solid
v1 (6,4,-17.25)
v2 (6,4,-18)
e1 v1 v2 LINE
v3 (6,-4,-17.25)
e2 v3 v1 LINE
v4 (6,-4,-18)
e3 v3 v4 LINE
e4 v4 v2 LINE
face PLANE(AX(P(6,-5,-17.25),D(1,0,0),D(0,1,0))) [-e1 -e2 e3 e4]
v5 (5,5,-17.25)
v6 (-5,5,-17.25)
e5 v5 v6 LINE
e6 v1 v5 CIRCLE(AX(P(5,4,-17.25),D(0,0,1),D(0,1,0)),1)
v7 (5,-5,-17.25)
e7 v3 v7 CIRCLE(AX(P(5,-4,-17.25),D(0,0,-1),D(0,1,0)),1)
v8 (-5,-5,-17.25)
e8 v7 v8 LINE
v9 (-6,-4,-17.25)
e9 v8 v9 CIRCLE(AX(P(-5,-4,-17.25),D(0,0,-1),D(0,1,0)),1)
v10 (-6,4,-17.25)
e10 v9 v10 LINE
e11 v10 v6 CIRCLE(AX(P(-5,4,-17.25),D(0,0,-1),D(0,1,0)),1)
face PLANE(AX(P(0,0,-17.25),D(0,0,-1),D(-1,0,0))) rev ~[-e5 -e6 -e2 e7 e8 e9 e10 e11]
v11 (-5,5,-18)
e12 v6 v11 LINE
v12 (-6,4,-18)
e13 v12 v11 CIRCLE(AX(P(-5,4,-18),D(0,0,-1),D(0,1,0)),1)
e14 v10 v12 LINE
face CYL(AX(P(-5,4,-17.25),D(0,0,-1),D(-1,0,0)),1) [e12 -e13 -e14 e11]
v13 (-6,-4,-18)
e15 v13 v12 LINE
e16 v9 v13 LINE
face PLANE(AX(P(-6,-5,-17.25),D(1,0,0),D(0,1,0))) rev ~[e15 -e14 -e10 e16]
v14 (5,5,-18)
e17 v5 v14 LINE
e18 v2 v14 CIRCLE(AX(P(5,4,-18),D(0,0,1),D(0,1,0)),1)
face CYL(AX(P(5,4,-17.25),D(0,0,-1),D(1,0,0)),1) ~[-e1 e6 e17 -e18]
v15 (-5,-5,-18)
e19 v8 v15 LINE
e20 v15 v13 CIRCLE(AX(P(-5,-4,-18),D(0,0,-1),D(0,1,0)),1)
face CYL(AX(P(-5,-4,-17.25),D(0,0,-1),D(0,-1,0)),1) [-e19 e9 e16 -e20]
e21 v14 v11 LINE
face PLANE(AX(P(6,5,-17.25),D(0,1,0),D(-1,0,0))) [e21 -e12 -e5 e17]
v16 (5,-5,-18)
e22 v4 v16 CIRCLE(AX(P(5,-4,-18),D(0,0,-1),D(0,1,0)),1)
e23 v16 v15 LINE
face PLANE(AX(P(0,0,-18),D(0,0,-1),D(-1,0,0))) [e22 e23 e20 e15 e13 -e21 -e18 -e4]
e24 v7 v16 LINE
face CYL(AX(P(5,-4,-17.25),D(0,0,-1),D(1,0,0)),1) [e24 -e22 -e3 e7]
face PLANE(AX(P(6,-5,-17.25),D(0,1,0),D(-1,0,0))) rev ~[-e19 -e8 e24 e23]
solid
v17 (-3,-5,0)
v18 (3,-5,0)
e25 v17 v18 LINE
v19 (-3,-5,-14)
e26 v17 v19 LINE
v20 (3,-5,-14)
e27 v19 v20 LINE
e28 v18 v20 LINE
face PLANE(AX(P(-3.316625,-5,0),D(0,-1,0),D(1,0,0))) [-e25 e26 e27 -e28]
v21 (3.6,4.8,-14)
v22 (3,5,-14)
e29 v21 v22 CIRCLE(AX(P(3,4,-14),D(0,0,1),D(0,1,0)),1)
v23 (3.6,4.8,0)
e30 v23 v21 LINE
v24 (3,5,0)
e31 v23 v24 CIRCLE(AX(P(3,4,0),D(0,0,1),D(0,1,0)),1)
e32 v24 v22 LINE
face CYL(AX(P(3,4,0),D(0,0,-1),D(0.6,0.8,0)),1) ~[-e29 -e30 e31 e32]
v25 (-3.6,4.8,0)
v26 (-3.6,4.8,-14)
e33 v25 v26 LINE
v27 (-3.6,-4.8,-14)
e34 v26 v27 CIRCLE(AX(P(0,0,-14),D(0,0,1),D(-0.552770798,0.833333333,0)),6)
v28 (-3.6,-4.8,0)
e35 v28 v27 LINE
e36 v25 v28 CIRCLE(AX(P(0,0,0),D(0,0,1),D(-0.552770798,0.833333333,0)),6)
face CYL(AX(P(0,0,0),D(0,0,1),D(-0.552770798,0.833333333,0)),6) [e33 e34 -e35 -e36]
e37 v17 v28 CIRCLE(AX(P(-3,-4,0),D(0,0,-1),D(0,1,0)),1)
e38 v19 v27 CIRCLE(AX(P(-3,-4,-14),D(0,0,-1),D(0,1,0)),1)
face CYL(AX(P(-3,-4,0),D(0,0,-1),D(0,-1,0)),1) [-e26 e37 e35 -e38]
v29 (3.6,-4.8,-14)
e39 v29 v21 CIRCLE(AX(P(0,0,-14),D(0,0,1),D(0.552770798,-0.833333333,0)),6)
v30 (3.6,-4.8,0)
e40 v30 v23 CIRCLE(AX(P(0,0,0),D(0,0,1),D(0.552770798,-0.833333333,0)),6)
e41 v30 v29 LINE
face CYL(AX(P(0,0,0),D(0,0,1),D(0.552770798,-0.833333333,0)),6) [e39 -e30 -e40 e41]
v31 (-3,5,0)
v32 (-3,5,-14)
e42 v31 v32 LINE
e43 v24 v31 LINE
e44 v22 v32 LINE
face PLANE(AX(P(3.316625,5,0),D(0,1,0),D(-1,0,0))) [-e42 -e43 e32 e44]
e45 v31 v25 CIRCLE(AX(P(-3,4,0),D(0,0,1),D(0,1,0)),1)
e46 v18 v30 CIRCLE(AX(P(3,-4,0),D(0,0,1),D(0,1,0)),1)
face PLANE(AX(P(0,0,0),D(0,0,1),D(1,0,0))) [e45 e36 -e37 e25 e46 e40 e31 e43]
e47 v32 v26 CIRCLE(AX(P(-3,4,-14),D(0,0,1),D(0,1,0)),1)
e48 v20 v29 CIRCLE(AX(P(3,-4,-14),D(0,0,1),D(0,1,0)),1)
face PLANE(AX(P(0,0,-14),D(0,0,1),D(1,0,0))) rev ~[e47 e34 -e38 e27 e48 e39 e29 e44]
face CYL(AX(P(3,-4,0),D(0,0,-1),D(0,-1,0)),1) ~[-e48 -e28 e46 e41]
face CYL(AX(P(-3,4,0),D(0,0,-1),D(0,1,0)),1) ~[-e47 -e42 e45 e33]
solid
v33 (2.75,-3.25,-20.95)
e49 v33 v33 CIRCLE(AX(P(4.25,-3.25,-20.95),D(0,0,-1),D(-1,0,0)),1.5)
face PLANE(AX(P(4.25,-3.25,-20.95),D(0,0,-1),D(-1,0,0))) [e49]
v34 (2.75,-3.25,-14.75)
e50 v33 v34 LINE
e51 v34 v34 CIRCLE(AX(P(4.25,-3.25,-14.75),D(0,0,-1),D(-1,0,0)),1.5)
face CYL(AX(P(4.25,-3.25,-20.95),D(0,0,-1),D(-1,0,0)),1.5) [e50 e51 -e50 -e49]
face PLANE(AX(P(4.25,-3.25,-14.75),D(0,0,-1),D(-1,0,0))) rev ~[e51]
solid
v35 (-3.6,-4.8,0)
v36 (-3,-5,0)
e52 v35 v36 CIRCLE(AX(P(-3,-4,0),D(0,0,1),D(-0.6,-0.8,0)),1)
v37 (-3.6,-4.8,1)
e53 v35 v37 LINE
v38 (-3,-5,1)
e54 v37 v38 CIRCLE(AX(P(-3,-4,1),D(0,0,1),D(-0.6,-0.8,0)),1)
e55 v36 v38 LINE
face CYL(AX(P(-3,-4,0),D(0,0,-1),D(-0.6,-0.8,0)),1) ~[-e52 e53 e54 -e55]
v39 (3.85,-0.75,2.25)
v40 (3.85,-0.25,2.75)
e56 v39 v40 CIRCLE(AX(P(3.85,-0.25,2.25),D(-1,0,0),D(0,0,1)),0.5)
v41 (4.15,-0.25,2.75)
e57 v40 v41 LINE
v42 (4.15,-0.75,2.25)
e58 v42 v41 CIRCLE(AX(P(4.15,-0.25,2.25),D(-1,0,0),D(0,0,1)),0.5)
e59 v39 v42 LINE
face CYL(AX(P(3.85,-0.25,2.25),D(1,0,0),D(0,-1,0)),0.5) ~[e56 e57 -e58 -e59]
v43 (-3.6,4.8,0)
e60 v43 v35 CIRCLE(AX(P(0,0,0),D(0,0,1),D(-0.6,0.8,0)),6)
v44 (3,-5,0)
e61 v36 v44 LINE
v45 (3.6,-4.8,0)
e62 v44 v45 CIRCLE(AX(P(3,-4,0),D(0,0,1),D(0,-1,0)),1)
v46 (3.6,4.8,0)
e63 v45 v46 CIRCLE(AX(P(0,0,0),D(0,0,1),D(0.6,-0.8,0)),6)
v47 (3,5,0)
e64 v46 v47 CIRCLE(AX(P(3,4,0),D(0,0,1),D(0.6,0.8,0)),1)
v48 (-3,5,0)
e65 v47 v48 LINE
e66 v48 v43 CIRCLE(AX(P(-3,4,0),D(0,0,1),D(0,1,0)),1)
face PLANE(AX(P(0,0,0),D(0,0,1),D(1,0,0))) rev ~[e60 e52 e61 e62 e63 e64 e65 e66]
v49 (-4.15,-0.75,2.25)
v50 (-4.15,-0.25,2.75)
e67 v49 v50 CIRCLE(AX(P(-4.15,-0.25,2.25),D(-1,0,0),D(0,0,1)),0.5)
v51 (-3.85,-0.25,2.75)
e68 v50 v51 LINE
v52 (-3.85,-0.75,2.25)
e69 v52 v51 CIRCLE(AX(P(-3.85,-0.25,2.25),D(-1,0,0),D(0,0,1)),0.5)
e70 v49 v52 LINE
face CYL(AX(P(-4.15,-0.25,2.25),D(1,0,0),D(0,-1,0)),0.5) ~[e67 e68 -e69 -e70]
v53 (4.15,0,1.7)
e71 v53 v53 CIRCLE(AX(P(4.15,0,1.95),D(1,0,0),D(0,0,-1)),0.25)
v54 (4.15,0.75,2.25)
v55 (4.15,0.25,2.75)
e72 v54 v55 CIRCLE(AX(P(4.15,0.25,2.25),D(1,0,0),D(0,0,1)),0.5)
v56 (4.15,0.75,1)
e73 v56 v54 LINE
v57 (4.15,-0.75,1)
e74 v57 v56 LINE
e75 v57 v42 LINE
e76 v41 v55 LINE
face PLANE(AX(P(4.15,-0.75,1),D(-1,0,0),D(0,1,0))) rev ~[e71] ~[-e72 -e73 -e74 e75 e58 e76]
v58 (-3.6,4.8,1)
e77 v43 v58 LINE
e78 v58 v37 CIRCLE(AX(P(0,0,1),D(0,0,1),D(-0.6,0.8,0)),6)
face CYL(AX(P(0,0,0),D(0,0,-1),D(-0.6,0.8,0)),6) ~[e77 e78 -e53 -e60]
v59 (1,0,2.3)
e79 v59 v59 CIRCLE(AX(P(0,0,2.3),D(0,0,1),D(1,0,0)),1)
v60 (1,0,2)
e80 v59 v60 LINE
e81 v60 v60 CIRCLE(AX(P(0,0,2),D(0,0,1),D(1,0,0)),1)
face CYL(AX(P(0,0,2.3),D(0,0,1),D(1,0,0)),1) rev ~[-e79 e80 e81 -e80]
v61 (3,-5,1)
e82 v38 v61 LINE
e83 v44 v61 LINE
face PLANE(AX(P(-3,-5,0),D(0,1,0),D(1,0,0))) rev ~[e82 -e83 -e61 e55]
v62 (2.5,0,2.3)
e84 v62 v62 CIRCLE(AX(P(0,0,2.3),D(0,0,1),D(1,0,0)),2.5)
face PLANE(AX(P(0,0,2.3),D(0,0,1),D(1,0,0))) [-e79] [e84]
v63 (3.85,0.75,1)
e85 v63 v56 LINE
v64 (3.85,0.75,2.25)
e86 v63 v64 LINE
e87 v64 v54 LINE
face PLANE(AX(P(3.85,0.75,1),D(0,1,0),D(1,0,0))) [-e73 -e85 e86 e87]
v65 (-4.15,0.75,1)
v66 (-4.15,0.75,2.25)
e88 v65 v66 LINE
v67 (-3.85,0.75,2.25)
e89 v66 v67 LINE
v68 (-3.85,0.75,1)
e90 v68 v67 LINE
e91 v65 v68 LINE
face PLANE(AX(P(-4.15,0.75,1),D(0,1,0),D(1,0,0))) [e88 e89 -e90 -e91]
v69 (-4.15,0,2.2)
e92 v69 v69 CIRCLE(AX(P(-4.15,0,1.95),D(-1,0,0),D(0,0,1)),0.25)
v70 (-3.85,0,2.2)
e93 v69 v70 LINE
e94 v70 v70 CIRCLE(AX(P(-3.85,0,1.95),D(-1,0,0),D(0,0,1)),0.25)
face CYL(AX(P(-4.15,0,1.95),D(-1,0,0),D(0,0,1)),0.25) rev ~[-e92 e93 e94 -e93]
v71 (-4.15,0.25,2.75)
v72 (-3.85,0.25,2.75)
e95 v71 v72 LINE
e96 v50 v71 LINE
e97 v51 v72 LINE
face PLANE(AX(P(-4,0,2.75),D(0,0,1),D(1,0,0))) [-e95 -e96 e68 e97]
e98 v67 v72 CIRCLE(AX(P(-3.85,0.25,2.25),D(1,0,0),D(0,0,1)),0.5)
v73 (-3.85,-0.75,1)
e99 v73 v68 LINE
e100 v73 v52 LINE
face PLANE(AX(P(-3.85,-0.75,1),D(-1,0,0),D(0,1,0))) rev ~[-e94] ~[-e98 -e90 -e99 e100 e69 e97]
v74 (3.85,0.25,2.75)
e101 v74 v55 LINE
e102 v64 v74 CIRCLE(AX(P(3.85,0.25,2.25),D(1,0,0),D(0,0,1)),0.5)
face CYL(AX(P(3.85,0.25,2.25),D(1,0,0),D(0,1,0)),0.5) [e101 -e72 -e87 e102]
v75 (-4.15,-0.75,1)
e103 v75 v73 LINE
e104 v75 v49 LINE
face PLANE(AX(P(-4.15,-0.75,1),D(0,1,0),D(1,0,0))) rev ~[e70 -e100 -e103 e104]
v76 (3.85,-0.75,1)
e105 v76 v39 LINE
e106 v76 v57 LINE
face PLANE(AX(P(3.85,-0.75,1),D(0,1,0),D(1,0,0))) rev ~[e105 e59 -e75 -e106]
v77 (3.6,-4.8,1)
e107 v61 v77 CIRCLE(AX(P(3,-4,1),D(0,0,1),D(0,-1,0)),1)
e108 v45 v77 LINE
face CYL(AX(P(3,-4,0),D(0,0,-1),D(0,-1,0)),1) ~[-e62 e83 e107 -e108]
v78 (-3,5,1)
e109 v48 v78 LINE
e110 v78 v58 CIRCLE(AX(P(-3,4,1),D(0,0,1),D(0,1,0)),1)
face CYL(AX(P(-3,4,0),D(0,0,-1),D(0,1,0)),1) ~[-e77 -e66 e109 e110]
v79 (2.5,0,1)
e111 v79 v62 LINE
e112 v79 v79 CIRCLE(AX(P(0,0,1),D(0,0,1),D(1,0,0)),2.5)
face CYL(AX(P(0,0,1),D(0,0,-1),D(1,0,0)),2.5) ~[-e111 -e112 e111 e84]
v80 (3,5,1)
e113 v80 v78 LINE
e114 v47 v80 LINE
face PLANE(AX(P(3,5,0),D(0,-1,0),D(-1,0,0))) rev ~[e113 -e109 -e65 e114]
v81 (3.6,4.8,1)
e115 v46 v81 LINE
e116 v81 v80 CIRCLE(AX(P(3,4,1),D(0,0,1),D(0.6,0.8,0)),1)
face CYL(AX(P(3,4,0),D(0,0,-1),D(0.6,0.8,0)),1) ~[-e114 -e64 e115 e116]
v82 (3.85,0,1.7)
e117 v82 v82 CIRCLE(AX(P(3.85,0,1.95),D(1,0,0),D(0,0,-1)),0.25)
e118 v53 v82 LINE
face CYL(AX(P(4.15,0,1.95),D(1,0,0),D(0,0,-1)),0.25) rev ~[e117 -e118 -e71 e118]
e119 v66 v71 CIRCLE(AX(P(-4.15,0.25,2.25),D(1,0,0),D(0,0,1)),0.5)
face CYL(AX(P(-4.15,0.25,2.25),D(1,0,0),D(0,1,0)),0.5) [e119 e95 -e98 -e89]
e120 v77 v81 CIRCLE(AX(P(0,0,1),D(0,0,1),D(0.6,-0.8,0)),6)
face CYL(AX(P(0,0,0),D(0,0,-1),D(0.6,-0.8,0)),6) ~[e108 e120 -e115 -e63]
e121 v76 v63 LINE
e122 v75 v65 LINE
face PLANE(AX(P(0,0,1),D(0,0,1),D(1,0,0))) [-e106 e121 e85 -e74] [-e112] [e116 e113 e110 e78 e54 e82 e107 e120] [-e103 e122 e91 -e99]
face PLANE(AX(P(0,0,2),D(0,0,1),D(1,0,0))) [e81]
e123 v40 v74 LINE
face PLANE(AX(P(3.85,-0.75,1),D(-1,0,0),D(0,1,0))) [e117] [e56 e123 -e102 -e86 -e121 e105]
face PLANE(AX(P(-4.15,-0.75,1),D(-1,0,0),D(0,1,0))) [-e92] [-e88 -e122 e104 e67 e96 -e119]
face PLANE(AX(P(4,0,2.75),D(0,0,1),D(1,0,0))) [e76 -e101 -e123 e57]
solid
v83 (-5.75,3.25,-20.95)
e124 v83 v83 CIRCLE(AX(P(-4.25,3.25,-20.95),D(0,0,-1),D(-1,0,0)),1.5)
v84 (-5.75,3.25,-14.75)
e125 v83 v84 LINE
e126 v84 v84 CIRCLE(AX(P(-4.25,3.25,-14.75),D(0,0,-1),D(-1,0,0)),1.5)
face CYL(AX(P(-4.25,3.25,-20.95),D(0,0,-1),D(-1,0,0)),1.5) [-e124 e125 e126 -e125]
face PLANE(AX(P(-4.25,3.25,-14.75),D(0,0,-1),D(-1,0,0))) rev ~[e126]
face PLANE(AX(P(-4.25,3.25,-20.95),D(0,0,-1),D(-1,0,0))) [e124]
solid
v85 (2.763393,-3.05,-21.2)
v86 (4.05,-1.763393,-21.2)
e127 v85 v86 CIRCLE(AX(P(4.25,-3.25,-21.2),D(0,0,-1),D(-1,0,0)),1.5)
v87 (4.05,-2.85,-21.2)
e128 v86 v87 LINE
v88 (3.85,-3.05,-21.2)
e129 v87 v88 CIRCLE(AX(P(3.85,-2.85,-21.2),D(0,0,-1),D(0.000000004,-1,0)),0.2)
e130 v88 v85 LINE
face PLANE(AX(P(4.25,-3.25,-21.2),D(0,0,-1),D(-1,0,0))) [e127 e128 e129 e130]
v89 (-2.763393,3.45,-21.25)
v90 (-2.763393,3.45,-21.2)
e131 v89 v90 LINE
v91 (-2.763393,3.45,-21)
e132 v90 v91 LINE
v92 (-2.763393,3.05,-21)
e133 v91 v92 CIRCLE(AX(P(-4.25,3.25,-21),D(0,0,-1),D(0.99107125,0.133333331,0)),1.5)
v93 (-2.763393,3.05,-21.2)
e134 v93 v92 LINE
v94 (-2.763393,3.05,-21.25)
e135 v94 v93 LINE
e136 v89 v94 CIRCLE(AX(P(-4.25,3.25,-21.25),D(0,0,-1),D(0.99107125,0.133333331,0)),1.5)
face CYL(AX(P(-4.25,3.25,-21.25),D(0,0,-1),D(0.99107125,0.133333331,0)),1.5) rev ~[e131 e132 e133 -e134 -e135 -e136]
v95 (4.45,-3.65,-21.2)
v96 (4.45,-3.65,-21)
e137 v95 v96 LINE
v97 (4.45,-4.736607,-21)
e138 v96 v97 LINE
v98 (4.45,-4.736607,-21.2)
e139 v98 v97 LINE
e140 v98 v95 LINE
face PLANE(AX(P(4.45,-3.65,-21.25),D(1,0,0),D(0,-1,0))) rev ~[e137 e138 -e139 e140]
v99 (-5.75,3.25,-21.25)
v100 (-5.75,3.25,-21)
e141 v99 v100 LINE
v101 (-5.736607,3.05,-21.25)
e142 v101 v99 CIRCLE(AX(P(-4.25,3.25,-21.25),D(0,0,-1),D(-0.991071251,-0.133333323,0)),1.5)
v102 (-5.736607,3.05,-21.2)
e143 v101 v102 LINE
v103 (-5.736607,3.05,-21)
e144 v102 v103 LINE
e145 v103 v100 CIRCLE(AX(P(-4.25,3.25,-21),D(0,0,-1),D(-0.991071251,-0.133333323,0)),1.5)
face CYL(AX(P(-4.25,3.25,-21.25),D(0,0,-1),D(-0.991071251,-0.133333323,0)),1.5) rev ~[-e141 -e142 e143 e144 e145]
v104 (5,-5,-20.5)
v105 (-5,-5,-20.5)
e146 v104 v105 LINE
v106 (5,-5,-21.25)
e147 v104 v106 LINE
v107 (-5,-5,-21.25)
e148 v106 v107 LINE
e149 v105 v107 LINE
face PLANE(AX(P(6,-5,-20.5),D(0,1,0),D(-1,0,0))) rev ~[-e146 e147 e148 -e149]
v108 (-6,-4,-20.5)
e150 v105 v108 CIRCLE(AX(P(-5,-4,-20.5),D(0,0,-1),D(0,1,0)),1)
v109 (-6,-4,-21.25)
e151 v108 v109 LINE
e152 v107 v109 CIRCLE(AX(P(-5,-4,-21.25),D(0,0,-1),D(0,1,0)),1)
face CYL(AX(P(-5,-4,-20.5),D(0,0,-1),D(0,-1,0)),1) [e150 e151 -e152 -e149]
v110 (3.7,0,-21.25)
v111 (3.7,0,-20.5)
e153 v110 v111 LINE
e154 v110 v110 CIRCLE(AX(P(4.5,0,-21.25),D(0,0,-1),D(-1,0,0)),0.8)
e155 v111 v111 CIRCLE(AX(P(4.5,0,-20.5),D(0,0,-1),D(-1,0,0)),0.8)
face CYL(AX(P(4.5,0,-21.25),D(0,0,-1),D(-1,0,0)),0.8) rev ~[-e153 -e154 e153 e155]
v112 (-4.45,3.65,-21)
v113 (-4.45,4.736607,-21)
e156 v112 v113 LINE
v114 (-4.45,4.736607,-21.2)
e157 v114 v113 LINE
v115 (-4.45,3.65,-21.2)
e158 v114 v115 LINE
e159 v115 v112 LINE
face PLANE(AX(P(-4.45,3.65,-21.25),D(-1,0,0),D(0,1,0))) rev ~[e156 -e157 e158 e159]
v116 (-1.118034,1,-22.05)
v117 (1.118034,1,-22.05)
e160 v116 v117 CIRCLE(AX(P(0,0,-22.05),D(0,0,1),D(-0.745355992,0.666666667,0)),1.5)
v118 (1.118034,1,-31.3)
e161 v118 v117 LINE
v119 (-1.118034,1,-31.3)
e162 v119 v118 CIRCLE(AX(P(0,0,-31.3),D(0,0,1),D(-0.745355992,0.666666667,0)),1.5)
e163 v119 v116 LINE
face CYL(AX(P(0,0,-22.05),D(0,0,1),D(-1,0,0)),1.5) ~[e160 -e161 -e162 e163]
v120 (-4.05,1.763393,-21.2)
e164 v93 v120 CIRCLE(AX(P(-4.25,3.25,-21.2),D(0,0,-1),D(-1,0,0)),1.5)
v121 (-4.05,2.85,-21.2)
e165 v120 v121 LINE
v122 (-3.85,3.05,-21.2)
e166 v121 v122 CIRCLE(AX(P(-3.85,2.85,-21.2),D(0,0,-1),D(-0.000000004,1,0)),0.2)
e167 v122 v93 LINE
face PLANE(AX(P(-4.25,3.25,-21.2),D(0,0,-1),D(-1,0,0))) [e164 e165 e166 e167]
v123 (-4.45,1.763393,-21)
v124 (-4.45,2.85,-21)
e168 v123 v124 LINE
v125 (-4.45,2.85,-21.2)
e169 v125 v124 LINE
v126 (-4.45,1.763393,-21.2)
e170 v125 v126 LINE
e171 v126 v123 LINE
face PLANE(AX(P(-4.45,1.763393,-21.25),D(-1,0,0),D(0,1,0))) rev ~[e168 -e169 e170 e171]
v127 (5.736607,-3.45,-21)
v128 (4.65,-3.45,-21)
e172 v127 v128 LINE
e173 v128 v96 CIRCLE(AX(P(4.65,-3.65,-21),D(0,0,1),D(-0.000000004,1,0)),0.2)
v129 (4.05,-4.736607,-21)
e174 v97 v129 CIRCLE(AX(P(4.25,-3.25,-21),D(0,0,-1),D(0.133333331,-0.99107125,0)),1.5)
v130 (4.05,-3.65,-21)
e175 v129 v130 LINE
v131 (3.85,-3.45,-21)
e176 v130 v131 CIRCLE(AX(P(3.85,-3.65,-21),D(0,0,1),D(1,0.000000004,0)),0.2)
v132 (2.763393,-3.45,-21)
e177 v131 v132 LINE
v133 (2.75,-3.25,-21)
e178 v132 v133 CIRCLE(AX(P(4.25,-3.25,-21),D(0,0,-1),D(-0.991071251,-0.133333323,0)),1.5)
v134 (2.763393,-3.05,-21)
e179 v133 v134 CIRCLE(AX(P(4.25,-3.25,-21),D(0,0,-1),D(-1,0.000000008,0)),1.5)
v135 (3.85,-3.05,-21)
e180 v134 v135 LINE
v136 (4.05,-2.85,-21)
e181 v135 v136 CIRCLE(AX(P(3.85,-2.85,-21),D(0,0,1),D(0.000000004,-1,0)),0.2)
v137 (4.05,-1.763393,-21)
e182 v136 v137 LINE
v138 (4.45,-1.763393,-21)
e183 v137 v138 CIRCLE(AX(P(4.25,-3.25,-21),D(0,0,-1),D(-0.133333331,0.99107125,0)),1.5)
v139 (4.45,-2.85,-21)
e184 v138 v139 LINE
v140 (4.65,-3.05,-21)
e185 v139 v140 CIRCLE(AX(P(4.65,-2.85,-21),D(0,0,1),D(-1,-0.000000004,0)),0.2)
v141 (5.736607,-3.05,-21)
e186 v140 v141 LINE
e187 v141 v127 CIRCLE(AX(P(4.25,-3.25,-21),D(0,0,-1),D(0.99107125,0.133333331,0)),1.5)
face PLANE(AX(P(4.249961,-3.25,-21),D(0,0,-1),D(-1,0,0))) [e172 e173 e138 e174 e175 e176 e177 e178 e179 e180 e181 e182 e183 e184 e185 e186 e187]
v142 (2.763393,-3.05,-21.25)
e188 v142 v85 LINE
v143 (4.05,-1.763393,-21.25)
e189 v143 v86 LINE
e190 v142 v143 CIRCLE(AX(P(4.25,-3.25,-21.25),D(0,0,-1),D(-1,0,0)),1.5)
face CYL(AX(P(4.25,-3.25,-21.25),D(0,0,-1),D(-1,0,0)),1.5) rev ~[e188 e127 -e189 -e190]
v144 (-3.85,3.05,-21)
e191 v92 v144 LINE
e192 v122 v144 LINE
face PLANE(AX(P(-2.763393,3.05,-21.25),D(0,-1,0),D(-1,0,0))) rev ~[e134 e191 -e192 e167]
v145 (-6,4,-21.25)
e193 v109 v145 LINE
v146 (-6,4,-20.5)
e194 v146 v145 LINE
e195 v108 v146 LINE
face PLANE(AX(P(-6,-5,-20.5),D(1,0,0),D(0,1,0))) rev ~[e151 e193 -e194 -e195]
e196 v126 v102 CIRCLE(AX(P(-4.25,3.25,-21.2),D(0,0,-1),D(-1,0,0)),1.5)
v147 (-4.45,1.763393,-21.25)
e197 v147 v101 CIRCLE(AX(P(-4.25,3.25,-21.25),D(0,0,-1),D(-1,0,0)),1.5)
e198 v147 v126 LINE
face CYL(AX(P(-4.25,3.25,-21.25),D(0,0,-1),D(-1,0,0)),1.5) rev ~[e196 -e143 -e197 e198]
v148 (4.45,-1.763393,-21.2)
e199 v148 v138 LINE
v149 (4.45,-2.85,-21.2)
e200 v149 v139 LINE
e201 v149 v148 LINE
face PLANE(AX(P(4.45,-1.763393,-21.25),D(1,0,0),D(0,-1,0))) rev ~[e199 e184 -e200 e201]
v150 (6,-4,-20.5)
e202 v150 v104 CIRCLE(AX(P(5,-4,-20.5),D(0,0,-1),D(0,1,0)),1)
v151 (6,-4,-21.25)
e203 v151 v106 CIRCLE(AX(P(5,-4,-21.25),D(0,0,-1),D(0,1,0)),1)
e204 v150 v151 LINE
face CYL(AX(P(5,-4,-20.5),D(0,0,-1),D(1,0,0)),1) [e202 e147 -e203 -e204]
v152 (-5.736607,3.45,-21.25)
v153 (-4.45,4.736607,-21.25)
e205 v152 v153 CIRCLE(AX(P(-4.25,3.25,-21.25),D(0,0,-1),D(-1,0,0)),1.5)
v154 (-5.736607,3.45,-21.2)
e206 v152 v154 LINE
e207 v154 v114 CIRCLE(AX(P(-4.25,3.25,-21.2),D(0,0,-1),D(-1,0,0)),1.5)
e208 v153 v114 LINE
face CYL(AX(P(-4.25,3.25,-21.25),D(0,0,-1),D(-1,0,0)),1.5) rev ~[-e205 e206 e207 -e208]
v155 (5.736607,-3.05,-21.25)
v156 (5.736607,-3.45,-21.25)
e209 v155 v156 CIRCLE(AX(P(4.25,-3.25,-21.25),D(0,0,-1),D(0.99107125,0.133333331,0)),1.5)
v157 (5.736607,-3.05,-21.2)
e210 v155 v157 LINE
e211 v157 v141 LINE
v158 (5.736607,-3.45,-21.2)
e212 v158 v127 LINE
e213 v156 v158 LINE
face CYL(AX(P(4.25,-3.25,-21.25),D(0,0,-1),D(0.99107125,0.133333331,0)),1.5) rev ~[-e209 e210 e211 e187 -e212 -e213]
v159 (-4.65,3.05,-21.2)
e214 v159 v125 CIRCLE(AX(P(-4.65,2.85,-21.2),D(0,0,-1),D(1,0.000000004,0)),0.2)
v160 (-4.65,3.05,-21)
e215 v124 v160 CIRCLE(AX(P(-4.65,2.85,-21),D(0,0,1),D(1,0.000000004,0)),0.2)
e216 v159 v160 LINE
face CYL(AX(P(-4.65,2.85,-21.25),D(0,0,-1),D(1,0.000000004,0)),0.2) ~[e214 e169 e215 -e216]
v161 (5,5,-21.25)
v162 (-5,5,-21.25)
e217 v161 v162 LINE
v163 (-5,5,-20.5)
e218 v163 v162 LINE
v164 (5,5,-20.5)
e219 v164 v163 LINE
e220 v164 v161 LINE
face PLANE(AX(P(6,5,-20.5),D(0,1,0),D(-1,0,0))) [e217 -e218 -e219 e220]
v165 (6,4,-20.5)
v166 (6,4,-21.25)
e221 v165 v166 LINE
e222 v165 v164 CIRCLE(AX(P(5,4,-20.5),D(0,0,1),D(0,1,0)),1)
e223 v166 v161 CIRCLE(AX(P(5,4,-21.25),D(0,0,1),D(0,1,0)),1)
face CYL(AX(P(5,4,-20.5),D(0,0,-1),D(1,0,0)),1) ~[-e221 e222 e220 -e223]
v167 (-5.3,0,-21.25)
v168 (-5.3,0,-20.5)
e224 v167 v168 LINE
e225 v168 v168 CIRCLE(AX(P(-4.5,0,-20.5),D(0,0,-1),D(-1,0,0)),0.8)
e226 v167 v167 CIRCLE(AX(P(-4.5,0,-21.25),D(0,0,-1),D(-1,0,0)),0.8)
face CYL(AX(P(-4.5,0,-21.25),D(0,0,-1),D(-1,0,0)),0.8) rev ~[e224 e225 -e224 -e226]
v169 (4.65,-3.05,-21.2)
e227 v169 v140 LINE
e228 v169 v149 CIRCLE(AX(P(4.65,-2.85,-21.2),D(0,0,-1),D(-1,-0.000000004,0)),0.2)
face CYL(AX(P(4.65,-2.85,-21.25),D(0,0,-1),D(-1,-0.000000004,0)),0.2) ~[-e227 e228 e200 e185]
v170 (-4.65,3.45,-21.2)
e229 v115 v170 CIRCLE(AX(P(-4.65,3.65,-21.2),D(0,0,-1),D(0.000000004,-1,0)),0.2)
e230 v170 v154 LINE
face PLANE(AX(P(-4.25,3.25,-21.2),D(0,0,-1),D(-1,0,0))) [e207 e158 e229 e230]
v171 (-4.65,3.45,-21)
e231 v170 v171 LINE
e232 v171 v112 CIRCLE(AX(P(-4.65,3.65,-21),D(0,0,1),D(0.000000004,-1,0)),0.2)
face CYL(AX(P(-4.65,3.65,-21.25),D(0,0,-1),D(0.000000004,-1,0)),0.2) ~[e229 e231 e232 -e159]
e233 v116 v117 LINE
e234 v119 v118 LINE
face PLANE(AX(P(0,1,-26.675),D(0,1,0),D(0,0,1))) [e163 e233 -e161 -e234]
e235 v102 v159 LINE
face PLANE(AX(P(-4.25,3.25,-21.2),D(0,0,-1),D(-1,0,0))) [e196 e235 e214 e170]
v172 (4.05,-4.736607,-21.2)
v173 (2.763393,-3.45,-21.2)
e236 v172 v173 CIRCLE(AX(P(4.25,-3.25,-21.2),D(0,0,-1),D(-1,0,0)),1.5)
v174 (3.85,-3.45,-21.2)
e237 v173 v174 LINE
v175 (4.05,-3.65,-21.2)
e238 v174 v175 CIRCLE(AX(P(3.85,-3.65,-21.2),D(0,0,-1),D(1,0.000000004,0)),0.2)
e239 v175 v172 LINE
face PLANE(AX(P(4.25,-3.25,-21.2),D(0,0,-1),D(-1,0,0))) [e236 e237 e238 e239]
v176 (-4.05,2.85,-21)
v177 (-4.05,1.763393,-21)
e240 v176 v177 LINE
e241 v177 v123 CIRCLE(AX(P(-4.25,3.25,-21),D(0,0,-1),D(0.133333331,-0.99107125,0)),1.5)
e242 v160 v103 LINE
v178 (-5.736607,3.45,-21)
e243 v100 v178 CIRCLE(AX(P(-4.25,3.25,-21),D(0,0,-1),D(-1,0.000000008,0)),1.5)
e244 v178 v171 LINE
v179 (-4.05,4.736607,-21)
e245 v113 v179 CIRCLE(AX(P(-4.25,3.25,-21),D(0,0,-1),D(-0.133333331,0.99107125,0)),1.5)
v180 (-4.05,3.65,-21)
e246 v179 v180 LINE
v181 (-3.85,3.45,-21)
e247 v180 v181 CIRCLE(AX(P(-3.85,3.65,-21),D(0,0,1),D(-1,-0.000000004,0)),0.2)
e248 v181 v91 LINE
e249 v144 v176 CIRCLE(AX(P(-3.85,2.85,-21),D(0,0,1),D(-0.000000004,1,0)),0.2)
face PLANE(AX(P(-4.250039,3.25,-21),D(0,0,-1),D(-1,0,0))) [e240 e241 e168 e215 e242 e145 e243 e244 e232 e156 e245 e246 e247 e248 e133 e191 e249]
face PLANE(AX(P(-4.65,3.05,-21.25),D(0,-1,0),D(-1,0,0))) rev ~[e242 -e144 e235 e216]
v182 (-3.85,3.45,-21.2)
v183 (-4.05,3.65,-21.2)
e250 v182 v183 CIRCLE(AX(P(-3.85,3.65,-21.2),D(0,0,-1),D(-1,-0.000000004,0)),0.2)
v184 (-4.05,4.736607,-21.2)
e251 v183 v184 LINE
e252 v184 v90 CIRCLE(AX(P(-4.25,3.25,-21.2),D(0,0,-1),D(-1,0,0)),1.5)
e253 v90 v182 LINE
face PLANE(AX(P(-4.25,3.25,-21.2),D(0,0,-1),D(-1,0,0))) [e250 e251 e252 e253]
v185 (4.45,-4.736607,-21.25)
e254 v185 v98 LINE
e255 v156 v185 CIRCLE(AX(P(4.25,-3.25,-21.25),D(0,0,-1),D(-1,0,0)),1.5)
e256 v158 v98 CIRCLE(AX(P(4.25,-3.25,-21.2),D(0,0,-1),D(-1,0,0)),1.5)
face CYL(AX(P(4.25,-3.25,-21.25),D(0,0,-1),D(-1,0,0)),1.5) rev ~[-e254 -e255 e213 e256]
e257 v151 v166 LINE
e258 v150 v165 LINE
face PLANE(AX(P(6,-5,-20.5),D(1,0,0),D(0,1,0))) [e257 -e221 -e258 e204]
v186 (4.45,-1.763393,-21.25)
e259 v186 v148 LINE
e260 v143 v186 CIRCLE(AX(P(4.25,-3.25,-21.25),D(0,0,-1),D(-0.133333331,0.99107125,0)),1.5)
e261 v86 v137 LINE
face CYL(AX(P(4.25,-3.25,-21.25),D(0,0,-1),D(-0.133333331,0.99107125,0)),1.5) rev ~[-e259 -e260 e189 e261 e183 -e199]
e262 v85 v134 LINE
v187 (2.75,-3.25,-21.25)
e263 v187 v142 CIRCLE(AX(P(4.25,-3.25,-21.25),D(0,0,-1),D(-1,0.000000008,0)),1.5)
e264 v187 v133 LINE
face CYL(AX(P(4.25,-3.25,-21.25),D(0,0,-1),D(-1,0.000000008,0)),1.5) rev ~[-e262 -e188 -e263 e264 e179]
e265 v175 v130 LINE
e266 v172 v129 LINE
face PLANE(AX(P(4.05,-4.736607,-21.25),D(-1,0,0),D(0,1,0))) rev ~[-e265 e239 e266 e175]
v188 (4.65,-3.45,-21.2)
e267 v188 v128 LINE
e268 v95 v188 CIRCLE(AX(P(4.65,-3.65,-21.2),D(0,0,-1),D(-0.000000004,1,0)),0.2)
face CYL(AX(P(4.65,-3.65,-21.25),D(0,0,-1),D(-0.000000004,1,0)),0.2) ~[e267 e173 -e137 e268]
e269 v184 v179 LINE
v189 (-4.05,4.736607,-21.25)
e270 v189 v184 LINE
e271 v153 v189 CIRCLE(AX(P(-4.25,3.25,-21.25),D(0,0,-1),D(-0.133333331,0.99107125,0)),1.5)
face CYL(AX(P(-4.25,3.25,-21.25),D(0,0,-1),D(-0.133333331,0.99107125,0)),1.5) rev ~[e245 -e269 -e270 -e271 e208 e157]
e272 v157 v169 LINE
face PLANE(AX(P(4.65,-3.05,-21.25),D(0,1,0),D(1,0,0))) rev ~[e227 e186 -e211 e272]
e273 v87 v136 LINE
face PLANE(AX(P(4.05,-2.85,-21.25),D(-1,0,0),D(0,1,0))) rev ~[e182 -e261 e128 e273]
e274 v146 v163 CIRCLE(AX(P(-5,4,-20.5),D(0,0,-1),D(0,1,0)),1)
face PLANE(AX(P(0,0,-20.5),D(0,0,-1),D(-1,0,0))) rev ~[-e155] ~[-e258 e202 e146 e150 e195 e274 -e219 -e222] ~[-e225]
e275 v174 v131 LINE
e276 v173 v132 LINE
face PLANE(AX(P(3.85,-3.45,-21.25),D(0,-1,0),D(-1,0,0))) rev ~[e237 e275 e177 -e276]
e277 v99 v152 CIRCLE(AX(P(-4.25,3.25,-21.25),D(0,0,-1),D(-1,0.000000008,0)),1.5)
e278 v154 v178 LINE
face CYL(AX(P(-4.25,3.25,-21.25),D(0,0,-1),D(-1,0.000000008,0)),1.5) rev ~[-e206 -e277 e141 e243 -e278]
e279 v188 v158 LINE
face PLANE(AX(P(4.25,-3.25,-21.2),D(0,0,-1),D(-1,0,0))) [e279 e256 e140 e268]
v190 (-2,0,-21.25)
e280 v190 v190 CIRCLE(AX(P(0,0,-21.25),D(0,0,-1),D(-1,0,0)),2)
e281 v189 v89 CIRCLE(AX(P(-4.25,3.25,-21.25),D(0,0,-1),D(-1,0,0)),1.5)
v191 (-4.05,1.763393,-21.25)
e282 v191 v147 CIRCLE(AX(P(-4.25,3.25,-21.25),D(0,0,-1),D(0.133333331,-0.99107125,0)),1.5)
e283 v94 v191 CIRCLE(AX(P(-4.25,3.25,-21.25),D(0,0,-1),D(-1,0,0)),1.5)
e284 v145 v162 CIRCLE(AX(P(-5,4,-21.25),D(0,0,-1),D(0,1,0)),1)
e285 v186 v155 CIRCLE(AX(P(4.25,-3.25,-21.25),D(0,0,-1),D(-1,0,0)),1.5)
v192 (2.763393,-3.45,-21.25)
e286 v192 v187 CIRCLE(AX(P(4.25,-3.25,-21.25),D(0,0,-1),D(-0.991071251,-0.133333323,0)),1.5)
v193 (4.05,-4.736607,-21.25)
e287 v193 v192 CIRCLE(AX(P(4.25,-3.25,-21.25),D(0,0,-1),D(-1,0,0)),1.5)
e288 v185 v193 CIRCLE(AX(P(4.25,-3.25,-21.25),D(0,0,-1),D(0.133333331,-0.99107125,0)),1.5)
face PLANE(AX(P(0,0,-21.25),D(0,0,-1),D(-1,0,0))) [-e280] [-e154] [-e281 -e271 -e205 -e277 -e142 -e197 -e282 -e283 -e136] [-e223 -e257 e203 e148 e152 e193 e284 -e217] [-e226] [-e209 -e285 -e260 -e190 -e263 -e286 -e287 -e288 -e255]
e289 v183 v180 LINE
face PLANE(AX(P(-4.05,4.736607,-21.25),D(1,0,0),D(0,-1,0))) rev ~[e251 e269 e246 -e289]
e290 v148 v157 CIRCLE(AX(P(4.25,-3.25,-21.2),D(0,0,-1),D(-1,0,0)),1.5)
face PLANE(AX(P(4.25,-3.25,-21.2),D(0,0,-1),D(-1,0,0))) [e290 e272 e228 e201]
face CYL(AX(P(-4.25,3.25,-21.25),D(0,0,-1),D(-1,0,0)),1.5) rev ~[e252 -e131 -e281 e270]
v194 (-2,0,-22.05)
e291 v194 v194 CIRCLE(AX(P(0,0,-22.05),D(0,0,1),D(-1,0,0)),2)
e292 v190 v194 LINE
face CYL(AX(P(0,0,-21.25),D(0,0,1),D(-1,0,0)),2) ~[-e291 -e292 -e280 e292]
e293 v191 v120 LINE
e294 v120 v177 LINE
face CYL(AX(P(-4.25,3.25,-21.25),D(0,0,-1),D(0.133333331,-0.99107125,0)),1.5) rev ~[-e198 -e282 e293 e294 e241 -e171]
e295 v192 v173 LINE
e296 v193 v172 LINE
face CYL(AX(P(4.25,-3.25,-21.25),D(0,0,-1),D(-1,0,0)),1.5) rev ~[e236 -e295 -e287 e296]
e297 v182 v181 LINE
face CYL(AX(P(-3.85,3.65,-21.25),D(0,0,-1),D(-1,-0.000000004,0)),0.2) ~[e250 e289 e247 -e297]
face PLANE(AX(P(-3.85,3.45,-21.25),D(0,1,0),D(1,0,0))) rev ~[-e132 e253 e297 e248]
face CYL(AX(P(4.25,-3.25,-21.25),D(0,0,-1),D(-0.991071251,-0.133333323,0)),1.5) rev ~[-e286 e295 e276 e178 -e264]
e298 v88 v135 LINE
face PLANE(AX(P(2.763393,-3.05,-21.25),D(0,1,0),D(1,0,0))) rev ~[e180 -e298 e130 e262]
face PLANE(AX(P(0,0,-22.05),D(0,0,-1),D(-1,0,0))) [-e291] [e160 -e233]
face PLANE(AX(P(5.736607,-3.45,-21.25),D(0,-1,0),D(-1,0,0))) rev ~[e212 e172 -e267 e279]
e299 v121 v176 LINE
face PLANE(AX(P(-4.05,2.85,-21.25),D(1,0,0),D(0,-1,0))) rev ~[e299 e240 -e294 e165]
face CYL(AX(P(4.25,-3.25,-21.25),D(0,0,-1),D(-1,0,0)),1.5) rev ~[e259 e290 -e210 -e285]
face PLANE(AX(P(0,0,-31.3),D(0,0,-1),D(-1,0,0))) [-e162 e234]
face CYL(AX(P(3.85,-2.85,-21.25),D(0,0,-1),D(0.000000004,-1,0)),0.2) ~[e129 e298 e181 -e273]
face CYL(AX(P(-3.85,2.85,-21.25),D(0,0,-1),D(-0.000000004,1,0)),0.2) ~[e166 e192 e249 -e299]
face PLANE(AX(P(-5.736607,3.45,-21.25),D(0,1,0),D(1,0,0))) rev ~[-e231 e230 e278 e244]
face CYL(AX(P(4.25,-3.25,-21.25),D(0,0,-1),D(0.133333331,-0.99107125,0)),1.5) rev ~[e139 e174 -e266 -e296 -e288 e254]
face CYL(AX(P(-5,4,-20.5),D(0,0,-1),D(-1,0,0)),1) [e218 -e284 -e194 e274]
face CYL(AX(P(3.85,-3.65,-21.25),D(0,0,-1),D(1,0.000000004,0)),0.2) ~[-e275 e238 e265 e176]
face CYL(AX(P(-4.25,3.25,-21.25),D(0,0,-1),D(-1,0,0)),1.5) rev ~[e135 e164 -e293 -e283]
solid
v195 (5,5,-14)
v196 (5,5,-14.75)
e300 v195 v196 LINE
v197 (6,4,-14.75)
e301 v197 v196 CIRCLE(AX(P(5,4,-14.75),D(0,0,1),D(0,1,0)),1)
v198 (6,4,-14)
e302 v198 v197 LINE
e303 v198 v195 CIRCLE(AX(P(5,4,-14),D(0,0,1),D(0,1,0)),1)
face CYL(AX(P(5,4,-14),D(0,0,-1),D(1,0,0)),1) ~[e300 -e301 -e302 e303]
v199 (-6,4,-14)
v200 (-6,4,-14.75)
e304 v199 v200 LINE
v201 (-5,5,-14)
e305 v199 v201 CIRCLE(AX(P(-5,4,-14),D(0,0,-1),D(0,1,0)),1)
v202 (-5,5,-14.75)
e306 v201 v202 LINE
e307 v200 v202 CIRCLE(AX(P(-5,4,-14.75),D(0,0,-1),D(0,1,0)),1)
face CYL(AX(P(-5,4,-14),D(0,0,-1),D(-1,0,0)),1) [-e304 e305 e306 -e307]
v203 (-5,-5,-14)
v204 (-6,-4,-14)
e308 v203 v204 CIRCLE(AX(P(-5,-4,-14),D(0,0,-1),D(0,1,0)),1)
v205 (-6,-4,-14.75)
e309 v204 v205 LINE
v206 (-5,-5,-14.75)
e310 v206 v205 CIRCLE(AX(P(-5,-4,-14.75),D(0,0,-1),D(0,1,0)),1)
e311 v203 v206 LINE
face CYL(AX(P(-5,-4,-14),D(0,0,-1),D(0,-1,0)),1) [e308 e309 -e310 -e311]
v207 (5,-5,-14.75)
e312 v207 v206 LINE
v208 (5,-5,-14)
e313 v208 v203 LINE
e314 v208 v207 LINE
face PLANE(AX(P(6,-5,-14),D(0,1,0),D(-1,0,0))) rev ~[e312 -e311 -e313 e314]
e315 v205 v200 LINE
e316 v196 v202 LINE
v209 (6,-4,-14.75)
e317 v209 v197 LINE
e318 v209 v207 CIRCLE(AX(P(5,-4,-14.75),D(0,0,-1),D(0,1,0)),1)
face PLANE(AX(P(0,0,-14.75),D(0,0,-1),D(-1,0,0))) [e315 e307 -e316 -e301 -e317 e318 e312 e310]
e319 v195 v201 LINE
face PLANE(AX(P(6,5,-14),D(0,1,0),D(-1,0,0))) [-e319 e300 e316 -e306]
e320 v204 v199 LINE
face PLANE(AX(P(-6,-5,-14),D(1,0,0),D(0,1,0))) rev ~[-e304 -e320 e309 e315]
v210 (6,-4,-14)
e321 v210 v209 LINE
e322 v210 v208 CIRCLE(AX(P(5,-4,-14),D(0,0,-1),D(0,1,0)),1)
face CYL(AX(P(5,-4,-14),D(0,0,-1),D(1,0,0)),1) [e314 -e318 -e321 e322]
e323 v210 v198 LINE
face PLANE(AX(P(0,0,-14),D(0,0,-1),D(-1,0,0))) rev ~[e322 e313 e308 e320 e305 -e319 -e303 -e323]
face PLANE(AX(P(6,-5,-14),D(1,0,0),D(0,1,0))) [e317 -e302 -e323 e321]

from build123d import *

# Parameters (mm, degrees)
BOSS_EXTRUDE1_DEPTH   = 14
FILLET1_R             = 1
BOSS_EXTRUDE2_DEPTH   = 1
SKETCH3_R             = 2.5
BOSS_EXTRUDE3_DEPTH   = 1.3
SKETCH4_R             = 1
CUT_EXTRUDE1_DEPTH    = 0.3
SKETCH5_W             = 0.3
SKETCH5_H             = 1.5
BOSS_EXTRUDE4_DEPTH   = 1.75
FILLET2_R             = 0.5
SKETCH6_R             = 0.25
CUT_EXTRUDE2_DEPTH    = 0.3
SKETCH7_R             = 0.25
CUT_EXTRUDE3_DEPTH    = 0.3
SKETCH8_W             = 12
SKETCH8_H             = 10
BOSS_EXTRUDE5_DEPTH   = 0.75
SKETCH9_W             = 12
SKETCH9_H             = 10
BOSS_EXTRUDE6_DEPTH   = 0.75
SKETCH10_W            = 12
SKETCH10_H            = 10
BOSS_EXTRUDE7_DEPTH   = 0.75
BOSS_EXTRUDE8_START   = -0.3
SKETCH11_R            = 1.5
BOSS_EXTRUDE8_DEPTH   = 6.2
BOSS_EXTRUDE8_2_DEPTH = 6.2
FILLET3_R             = 1
FILLET4_R             = 1
FILLET5_R             = 1
SKETCH12_R            = 2
BOSS_EXTRUDE9_DEPTH   = 0.8
SKETCH13_R            = 1.5
BOSS_EXTRUDE10_DEPTH  = 9.25
SKETCH14_W            = 9.25
SKETCH14_H            = 3
CUT_EXTRUDE4_DEPTH    = 0.5
CUT_EXTRUDE5_DEPTH    = 0.25
SKETCH16_R            = 1.5
CUT_EXTRUDE6_DEPTH    = 0.05
SKETCH17_R            = 0.8
CUT_EXTRUDE7_DEPTH    = 0.75


with BuildPart() as part:
    # Sketch1 → Boss-Extrude1 (new body)
    with BuildSketch(Plane.XY):
        with BuildLine():
            Line((-3.31662479, -5), (3.31662479, -5))
            ThreePointArc((3.31662479, -5), (6, 0), (3.31662479, 5))
            Line((3.31662479, 5), (-3.31662479, 5))
            ThreePointArc((-3.31662479, 5), (-6, 0), (-3.31662479, -5))
        make_face()
    extrude(amount=-BOSS_EXTRUDE1_DEPTH)

    # Fillet1
    fillet1_edges = [part.edges().sort_by_distance(p)[0] for p in [
        (3.31662479, -5, -7),
        (-3.31662479, -5, -7),
        (-3.31662479, 5, -7),
        (3.31662479, 5, -7),
    ]]
    fillet(fillet1_edges, radius=FILLET1_R)


with BuildPart() as body_2:
    # Sketch2 → Boss-Extrude2 (new body)
    with BuildSketch(Plane.XY):
        with BuildLine():
            Line((-3, -5), (3, -5))
            ThreePointArc((3, -5), (3.316227766, -4.948683298), (3.6, -4.8))
            ThreePointArc((3.6, -4.8), (6, 0), (3.6, 4.8))
            ThreePointArc((3.6, 4.8), (3.316227766, 4.948683298), (3, 5))
            Line((3, 5), (-3, 5))
            ThreePointArc((-3, 5), (-3.316227766, 4.948683298), (-3.6, 4.8))
            ThreePointArc((-3.6, 4.8), (-6, 0), (-3.6, -4.8))
            ThreePointArc((-3.6, -4.8), (-3.316227766, -4.948683298), (-3, -5))
        make_face()
    extrude(amount=BOSS_EXTRUDE2_DEPTH)

    # Sketch3 → Boss-Extrude3 (add)
    with BuildSketch(Plane.XY.offset(1)):
        Circle(SKETCH3_R)
    extrude(amount=BOSS_EXTRUDE3_DEPTH)

    # Sketch4 → Cut-Extrude1 (cut)
    with BuildSketch(Plane.XY.offset(2.3)):
        Circle(SKETCH4_R)
    extrude(amount=-CUT_EXTRUDE1_DEPTH, mode=Mode.SUBTRACT)

    # Sketch5 → Boss-Extrude4 (add)
    with BuildSketch(Plane.XY.offset(1)):
        with Locations((-4, 0)):
            Rectangle(SKETCH5_W, SKETCH5_H)
        with Locations((4, 0)):
            Rectangle(SKETCH5_W, SKETCH5_H)
    extrude(amount=BOSS_EXTRUDE4_DEPTH)

    # Fillet2
    fillet2_edges = [body_2.edges().sort_by_distance(p)[0] for p in [
        (-4, 0.75, 2.75),
        (-4, -0.75, 2.75),
        (4, 0.75, 2.75),
        (4, -0.75, 2.75),
    ]]
    fillet(fillet2_edges, radius=FILLET2_R)

    # Sketch6 → Cut-Extrude2 (cut)
    with BuildSketch(Plane.ZY.offset(4.15)):
        with Locations((1.95, 0)):
            Circle(SKETCH6_R)
    extrude(amount=-CUT_EXTRUDE2_DEPTH, mode=Mode.SUBTRACT)

    # Sketch7 → Cut-Extrude3 (cut)
    with BuildSketch(Plane(origin=(4.15, 0, 0), x_dir=(0, 0, -1), z_dir=(1, 0, 0))):
        with Locations((-1.95, 0)):
            Circle(SKETCH7_R)
    extrude(amount=-CUT_EXTRUDE3_DEPTH, mode=Mode.SUBTRACT)


with BuildPart() as body_3:
    # Sketch8 → Boss-Extrude5 (new body)
    with BuildSketch(Plane(origin=(0, 0, -14), x_dir=(-1, 0, 0), z_dir=(0, 0, -1))):
        Rectangle(SKETCH8_W, SKETCH8_H)
    extrude(amount=BOSS_EXTRUDE5_DEPTH)

    # Fillet5
    fillet5_edges = [body_3.edges().sort_by_distance(p)[0] for p in [
        (6, 5, -14.375),
        (-6, 5, -14.375),
        (-6, -5, -14.375),
        (6, -5, -14.375),
    ]]
    fillet(fillet5_edges, radius=FILLET5_R)


with BuildPart() as body_4:
    # Sketch9 → Boss-Extrude6 (new body)
    with BuildSketch(Plane(origin=(0, 0, -17.25), x_dir=(-1, 0, 0), z_dir=(0, 0, -1))):
        Rectangle(SKETCH9_W, SKETCH9_H)
    extrude(amount=BOSS_EXTRUDE6_DEPTH)

    # Fillet4
    fillet4_edges = [body_4.edges().sort_by_distance(p)[0] for p in [
        (-6, 5, -17.625),
        (-6, -5, -17.625),
        (6, -5, -17.625),
        (6, 5, -17.625),
    ]]
    fillet(fillet4_edges, radius=FILLET4_R)


with BuildPart() as body_5:
    # Sketch10 → Boss-Extrude7 (new body)
    with BuildSketch(Plane(origin=(0, 0, -20.5), x_dir=(-1, 0, 0), z_dir=(0, 0, -1))):
        Rectangle(SKETCH10_W, SKETCH10_H)
    extrude(amount=BOSS_EXTRUDE7_DEPTH)

    # Fillet3
    fillet3_edges = [body_5.edges().sort_by_distance(p)[0] for p in [
        (-6, -5, -20.875),
        (6, -5, -20.875),
        (6, 5, -20.875),
        (-6, 5, -20.875),
    ]]
    fillet(fillet3_edges, radius=FILLET3_R)

    # Sketch12 → Boss-Extrude9 (add)
    with BuildSketch(Plane(origin=(0, 0, -21.25), x_dir=(-1, 0, 0), z_dir=(0, 0, -1))):
        Circle(SKETCH12_R)
    extrude(amount=BOSS_EXTRUDE9_DEPTH)

    # Sketch13 → Boss-Extrude10 (add)
    with BuildSketch(Plane(origin=(0, 0, -22.05), x_dir=(-1, 0, 0), z_dir=(0, 0, -1))):
        Circle(SKETCH13_R)
    extrude(amount=BOSS_EXTRUDE10_DEPTH)

    # Sketch14 → Cut-Extrude4 (cut)
    with BuildSketch(Plane.ZX.offset(1.5)):
        with Locations((-26.675, 0)):
            Rectangle(SKETCH14_W, SKETCH14_H)
    extrude(amount=-CUT_EXTRUDE4_DEPTH, mode=Mode.SUBTRACT)

    # Sketch15 → Cut-Extrude5 (cut)
    with BuildSketch(Plane(origin=(0, 0, -21.25), x_dir=(-1, 0, 0), z_dir=(0, 0, -1))):
        with BuildLine():
            ThreePointArc((4.45, 4.736606875), (4.25, 4.75), (4.05, 4.736606875))
            Line((4.05, 4.736606875), (4.05, 3.65))
            ThreePointArc((4.05, 3.65), (3.991421356, 3.508578644), (3.85, 3.45))
            Line((3.85, 3.45), (2.763393125, 3.45))
            ThreePointArc((2.763393125, 3.45), (2.75, 3.25), (2.763393125, 3.05))
            Line((2.763393125, 3.05), (3.85, 3.05))
            ThreePointArc((3.85, 3.05), (3.991421356, 2.991421356), (4.05, 2.85))
            Line((4.05, 2.85), (4.05, 1.763393125))
            ThreePointArc((4.05, 1.763393125), (4.25, 1.75), (4.45, 1.763393125))
            Line((4.45, 1.763393125), (4.45, 2.85))
            ThreePointArc((4.45, 2.85), (4.508578644, 2.991421356), (4.65, 3.05))
            Line((4.65, 3.05), (5.736606875, 3.05))
            ThreePointArc((5.736606875, 3.05), (5.746647973, 3.149776031), (5.75, 3.25))
            ThreePointArc((5.75, 3.25), (5.746647973, 3.350223969), (5.736606875, 3.45))
            Line((5.736606875, 3.45), (4.65, 3.45))
            ThreePointArc((4.65, 3.45), (4.508578644, 3.508578644), (4.45, 3.65))
            Line((4.45, 3.65), (4.45, 4.736606875))
        make_face()
        with BuildLine():
            ThreePointArc((-4.05, -1.763393125), (-4.25, -1.75), (-4.45, -1.763393125))
            Line((-4.45, -1.763393125), (-4.45, -2.85))
            ThreePointArc((-4.45, -2.85), (-4.508578644, -2.991421356), (-4.65, -3.05))
            Line((-4.65, -3.05), (-5.736606875, -3.05))
            ThreePointArc((-5.736606875, -3.05), (-5.75, -3.25), (-5.736606875, -3.45))
            Line((-5.736606875, -3.45), (-4.65, -3.45))
            ThreePointArc((-4.65, -3.45), (-4.508578644, -3.508578644), (-4.45, -3.65))
            Line((-4.45, -3.65), (-4.45, -4.736606875))
            ThreePointArc((-4.45, -4.736606875), (-4.25, -4.75), (-4.05, -4.736606875))
            Line((-4.05, -4.736606875), (-4.05, -3.65))
            ThreePointArc((-4.05, -3.65), (-3.991421356, -3.508578644), (-3.85, -3.45))
            Line((-3.85, -3.45), (-2.763393125, -3.45))
            ThreePointArc((-2.763393125, -3.45), (-2.753352027, -3.350223969), (-2.75, -3.25))
            ThreePointArc((-2.75, -3.25), (-2.753352027, -3.149776031), (-2.763393125, -3.05))
            Line((-2.763393125, -3.05), (-3.85, -3.05))
            ThreePointArc((-3.85, -3.05), (-3.991421356, -2.991421356), (-4.05, -2.85))
            Line((-4.05, -2.85), (-4.05, -1.763393125))
        make_face()
    extrude(amount=-CUT_EXTRUDE5_DEPTH, mode=Mode.SUBTRACT)

    # Sketch16 → Cut-Extrude6 (cut)
    with BuildSketch(Plane(origin=(0, 0, -21.25), x_dir=(-1, 0, 0), z_dir=(0, 0, -1))):
        with Locations((4.25, 3.25)):
            Circle(SKETCH16_R)
        with Locations((-4.25, -3.25)):
            Circle(SKETCH16_R)
    extrude(amount=-CUT_EXTRUDE6_DEPTH, mode=Mode.SUBTRACT)

    # Sketch17 → Cut-Extrude7 (cut)
    with BuildSketch(Plane(origin=(0, 0, -21.25), x_dir=(-1, 0, 0), z_dir=(0, 0, -1))):
        with Locations((-4.5, 0)):
            Circle(SKETCH17_R)
        with Locations((4.5, 0)):
            Circle(SKETCH17_R)
    extrude(amount=-CUT_EXTRUDE7_DEPTH, mode=Mode.SUBTRACT)


with BuildPart() as body_6:
    # Sketch11 → Boss-Extrude8 (new body)
    with BuildSketch(Plane(origin=(0, 0, -21.25), x_dir=(-1, 0, 0), z_dir=(0, 0, -1)).offset(BOSS_EXTRUDE8_START)):
        with Locations((4.25, 3.25)):
            Circle(SKETCH11_R)
    extrude(amount=-BOSS_EXTRUDE8_DEPTH)


with BuildPart() as body_7:
    # Sketch11 → Boss-Extrude8 2 (new body)
    with BuildSketch(Plane(origin=(0, 0, -21.25), x_dir=(-1, 0, 0), z_dir=(0, 0, -1)).offset(BOSS_EXTRUDE8_START)):
        with Locations((-4.25, -3.25)):
            Circle(SKETCH11_R)
    extrude(amount=-BOSS_EXTRUDE8_2_DEPTH)


solid = Compound([part.part, body_2.part, body_3.part, body_4.part, body_5.part, body_6.part, body_7.part])
